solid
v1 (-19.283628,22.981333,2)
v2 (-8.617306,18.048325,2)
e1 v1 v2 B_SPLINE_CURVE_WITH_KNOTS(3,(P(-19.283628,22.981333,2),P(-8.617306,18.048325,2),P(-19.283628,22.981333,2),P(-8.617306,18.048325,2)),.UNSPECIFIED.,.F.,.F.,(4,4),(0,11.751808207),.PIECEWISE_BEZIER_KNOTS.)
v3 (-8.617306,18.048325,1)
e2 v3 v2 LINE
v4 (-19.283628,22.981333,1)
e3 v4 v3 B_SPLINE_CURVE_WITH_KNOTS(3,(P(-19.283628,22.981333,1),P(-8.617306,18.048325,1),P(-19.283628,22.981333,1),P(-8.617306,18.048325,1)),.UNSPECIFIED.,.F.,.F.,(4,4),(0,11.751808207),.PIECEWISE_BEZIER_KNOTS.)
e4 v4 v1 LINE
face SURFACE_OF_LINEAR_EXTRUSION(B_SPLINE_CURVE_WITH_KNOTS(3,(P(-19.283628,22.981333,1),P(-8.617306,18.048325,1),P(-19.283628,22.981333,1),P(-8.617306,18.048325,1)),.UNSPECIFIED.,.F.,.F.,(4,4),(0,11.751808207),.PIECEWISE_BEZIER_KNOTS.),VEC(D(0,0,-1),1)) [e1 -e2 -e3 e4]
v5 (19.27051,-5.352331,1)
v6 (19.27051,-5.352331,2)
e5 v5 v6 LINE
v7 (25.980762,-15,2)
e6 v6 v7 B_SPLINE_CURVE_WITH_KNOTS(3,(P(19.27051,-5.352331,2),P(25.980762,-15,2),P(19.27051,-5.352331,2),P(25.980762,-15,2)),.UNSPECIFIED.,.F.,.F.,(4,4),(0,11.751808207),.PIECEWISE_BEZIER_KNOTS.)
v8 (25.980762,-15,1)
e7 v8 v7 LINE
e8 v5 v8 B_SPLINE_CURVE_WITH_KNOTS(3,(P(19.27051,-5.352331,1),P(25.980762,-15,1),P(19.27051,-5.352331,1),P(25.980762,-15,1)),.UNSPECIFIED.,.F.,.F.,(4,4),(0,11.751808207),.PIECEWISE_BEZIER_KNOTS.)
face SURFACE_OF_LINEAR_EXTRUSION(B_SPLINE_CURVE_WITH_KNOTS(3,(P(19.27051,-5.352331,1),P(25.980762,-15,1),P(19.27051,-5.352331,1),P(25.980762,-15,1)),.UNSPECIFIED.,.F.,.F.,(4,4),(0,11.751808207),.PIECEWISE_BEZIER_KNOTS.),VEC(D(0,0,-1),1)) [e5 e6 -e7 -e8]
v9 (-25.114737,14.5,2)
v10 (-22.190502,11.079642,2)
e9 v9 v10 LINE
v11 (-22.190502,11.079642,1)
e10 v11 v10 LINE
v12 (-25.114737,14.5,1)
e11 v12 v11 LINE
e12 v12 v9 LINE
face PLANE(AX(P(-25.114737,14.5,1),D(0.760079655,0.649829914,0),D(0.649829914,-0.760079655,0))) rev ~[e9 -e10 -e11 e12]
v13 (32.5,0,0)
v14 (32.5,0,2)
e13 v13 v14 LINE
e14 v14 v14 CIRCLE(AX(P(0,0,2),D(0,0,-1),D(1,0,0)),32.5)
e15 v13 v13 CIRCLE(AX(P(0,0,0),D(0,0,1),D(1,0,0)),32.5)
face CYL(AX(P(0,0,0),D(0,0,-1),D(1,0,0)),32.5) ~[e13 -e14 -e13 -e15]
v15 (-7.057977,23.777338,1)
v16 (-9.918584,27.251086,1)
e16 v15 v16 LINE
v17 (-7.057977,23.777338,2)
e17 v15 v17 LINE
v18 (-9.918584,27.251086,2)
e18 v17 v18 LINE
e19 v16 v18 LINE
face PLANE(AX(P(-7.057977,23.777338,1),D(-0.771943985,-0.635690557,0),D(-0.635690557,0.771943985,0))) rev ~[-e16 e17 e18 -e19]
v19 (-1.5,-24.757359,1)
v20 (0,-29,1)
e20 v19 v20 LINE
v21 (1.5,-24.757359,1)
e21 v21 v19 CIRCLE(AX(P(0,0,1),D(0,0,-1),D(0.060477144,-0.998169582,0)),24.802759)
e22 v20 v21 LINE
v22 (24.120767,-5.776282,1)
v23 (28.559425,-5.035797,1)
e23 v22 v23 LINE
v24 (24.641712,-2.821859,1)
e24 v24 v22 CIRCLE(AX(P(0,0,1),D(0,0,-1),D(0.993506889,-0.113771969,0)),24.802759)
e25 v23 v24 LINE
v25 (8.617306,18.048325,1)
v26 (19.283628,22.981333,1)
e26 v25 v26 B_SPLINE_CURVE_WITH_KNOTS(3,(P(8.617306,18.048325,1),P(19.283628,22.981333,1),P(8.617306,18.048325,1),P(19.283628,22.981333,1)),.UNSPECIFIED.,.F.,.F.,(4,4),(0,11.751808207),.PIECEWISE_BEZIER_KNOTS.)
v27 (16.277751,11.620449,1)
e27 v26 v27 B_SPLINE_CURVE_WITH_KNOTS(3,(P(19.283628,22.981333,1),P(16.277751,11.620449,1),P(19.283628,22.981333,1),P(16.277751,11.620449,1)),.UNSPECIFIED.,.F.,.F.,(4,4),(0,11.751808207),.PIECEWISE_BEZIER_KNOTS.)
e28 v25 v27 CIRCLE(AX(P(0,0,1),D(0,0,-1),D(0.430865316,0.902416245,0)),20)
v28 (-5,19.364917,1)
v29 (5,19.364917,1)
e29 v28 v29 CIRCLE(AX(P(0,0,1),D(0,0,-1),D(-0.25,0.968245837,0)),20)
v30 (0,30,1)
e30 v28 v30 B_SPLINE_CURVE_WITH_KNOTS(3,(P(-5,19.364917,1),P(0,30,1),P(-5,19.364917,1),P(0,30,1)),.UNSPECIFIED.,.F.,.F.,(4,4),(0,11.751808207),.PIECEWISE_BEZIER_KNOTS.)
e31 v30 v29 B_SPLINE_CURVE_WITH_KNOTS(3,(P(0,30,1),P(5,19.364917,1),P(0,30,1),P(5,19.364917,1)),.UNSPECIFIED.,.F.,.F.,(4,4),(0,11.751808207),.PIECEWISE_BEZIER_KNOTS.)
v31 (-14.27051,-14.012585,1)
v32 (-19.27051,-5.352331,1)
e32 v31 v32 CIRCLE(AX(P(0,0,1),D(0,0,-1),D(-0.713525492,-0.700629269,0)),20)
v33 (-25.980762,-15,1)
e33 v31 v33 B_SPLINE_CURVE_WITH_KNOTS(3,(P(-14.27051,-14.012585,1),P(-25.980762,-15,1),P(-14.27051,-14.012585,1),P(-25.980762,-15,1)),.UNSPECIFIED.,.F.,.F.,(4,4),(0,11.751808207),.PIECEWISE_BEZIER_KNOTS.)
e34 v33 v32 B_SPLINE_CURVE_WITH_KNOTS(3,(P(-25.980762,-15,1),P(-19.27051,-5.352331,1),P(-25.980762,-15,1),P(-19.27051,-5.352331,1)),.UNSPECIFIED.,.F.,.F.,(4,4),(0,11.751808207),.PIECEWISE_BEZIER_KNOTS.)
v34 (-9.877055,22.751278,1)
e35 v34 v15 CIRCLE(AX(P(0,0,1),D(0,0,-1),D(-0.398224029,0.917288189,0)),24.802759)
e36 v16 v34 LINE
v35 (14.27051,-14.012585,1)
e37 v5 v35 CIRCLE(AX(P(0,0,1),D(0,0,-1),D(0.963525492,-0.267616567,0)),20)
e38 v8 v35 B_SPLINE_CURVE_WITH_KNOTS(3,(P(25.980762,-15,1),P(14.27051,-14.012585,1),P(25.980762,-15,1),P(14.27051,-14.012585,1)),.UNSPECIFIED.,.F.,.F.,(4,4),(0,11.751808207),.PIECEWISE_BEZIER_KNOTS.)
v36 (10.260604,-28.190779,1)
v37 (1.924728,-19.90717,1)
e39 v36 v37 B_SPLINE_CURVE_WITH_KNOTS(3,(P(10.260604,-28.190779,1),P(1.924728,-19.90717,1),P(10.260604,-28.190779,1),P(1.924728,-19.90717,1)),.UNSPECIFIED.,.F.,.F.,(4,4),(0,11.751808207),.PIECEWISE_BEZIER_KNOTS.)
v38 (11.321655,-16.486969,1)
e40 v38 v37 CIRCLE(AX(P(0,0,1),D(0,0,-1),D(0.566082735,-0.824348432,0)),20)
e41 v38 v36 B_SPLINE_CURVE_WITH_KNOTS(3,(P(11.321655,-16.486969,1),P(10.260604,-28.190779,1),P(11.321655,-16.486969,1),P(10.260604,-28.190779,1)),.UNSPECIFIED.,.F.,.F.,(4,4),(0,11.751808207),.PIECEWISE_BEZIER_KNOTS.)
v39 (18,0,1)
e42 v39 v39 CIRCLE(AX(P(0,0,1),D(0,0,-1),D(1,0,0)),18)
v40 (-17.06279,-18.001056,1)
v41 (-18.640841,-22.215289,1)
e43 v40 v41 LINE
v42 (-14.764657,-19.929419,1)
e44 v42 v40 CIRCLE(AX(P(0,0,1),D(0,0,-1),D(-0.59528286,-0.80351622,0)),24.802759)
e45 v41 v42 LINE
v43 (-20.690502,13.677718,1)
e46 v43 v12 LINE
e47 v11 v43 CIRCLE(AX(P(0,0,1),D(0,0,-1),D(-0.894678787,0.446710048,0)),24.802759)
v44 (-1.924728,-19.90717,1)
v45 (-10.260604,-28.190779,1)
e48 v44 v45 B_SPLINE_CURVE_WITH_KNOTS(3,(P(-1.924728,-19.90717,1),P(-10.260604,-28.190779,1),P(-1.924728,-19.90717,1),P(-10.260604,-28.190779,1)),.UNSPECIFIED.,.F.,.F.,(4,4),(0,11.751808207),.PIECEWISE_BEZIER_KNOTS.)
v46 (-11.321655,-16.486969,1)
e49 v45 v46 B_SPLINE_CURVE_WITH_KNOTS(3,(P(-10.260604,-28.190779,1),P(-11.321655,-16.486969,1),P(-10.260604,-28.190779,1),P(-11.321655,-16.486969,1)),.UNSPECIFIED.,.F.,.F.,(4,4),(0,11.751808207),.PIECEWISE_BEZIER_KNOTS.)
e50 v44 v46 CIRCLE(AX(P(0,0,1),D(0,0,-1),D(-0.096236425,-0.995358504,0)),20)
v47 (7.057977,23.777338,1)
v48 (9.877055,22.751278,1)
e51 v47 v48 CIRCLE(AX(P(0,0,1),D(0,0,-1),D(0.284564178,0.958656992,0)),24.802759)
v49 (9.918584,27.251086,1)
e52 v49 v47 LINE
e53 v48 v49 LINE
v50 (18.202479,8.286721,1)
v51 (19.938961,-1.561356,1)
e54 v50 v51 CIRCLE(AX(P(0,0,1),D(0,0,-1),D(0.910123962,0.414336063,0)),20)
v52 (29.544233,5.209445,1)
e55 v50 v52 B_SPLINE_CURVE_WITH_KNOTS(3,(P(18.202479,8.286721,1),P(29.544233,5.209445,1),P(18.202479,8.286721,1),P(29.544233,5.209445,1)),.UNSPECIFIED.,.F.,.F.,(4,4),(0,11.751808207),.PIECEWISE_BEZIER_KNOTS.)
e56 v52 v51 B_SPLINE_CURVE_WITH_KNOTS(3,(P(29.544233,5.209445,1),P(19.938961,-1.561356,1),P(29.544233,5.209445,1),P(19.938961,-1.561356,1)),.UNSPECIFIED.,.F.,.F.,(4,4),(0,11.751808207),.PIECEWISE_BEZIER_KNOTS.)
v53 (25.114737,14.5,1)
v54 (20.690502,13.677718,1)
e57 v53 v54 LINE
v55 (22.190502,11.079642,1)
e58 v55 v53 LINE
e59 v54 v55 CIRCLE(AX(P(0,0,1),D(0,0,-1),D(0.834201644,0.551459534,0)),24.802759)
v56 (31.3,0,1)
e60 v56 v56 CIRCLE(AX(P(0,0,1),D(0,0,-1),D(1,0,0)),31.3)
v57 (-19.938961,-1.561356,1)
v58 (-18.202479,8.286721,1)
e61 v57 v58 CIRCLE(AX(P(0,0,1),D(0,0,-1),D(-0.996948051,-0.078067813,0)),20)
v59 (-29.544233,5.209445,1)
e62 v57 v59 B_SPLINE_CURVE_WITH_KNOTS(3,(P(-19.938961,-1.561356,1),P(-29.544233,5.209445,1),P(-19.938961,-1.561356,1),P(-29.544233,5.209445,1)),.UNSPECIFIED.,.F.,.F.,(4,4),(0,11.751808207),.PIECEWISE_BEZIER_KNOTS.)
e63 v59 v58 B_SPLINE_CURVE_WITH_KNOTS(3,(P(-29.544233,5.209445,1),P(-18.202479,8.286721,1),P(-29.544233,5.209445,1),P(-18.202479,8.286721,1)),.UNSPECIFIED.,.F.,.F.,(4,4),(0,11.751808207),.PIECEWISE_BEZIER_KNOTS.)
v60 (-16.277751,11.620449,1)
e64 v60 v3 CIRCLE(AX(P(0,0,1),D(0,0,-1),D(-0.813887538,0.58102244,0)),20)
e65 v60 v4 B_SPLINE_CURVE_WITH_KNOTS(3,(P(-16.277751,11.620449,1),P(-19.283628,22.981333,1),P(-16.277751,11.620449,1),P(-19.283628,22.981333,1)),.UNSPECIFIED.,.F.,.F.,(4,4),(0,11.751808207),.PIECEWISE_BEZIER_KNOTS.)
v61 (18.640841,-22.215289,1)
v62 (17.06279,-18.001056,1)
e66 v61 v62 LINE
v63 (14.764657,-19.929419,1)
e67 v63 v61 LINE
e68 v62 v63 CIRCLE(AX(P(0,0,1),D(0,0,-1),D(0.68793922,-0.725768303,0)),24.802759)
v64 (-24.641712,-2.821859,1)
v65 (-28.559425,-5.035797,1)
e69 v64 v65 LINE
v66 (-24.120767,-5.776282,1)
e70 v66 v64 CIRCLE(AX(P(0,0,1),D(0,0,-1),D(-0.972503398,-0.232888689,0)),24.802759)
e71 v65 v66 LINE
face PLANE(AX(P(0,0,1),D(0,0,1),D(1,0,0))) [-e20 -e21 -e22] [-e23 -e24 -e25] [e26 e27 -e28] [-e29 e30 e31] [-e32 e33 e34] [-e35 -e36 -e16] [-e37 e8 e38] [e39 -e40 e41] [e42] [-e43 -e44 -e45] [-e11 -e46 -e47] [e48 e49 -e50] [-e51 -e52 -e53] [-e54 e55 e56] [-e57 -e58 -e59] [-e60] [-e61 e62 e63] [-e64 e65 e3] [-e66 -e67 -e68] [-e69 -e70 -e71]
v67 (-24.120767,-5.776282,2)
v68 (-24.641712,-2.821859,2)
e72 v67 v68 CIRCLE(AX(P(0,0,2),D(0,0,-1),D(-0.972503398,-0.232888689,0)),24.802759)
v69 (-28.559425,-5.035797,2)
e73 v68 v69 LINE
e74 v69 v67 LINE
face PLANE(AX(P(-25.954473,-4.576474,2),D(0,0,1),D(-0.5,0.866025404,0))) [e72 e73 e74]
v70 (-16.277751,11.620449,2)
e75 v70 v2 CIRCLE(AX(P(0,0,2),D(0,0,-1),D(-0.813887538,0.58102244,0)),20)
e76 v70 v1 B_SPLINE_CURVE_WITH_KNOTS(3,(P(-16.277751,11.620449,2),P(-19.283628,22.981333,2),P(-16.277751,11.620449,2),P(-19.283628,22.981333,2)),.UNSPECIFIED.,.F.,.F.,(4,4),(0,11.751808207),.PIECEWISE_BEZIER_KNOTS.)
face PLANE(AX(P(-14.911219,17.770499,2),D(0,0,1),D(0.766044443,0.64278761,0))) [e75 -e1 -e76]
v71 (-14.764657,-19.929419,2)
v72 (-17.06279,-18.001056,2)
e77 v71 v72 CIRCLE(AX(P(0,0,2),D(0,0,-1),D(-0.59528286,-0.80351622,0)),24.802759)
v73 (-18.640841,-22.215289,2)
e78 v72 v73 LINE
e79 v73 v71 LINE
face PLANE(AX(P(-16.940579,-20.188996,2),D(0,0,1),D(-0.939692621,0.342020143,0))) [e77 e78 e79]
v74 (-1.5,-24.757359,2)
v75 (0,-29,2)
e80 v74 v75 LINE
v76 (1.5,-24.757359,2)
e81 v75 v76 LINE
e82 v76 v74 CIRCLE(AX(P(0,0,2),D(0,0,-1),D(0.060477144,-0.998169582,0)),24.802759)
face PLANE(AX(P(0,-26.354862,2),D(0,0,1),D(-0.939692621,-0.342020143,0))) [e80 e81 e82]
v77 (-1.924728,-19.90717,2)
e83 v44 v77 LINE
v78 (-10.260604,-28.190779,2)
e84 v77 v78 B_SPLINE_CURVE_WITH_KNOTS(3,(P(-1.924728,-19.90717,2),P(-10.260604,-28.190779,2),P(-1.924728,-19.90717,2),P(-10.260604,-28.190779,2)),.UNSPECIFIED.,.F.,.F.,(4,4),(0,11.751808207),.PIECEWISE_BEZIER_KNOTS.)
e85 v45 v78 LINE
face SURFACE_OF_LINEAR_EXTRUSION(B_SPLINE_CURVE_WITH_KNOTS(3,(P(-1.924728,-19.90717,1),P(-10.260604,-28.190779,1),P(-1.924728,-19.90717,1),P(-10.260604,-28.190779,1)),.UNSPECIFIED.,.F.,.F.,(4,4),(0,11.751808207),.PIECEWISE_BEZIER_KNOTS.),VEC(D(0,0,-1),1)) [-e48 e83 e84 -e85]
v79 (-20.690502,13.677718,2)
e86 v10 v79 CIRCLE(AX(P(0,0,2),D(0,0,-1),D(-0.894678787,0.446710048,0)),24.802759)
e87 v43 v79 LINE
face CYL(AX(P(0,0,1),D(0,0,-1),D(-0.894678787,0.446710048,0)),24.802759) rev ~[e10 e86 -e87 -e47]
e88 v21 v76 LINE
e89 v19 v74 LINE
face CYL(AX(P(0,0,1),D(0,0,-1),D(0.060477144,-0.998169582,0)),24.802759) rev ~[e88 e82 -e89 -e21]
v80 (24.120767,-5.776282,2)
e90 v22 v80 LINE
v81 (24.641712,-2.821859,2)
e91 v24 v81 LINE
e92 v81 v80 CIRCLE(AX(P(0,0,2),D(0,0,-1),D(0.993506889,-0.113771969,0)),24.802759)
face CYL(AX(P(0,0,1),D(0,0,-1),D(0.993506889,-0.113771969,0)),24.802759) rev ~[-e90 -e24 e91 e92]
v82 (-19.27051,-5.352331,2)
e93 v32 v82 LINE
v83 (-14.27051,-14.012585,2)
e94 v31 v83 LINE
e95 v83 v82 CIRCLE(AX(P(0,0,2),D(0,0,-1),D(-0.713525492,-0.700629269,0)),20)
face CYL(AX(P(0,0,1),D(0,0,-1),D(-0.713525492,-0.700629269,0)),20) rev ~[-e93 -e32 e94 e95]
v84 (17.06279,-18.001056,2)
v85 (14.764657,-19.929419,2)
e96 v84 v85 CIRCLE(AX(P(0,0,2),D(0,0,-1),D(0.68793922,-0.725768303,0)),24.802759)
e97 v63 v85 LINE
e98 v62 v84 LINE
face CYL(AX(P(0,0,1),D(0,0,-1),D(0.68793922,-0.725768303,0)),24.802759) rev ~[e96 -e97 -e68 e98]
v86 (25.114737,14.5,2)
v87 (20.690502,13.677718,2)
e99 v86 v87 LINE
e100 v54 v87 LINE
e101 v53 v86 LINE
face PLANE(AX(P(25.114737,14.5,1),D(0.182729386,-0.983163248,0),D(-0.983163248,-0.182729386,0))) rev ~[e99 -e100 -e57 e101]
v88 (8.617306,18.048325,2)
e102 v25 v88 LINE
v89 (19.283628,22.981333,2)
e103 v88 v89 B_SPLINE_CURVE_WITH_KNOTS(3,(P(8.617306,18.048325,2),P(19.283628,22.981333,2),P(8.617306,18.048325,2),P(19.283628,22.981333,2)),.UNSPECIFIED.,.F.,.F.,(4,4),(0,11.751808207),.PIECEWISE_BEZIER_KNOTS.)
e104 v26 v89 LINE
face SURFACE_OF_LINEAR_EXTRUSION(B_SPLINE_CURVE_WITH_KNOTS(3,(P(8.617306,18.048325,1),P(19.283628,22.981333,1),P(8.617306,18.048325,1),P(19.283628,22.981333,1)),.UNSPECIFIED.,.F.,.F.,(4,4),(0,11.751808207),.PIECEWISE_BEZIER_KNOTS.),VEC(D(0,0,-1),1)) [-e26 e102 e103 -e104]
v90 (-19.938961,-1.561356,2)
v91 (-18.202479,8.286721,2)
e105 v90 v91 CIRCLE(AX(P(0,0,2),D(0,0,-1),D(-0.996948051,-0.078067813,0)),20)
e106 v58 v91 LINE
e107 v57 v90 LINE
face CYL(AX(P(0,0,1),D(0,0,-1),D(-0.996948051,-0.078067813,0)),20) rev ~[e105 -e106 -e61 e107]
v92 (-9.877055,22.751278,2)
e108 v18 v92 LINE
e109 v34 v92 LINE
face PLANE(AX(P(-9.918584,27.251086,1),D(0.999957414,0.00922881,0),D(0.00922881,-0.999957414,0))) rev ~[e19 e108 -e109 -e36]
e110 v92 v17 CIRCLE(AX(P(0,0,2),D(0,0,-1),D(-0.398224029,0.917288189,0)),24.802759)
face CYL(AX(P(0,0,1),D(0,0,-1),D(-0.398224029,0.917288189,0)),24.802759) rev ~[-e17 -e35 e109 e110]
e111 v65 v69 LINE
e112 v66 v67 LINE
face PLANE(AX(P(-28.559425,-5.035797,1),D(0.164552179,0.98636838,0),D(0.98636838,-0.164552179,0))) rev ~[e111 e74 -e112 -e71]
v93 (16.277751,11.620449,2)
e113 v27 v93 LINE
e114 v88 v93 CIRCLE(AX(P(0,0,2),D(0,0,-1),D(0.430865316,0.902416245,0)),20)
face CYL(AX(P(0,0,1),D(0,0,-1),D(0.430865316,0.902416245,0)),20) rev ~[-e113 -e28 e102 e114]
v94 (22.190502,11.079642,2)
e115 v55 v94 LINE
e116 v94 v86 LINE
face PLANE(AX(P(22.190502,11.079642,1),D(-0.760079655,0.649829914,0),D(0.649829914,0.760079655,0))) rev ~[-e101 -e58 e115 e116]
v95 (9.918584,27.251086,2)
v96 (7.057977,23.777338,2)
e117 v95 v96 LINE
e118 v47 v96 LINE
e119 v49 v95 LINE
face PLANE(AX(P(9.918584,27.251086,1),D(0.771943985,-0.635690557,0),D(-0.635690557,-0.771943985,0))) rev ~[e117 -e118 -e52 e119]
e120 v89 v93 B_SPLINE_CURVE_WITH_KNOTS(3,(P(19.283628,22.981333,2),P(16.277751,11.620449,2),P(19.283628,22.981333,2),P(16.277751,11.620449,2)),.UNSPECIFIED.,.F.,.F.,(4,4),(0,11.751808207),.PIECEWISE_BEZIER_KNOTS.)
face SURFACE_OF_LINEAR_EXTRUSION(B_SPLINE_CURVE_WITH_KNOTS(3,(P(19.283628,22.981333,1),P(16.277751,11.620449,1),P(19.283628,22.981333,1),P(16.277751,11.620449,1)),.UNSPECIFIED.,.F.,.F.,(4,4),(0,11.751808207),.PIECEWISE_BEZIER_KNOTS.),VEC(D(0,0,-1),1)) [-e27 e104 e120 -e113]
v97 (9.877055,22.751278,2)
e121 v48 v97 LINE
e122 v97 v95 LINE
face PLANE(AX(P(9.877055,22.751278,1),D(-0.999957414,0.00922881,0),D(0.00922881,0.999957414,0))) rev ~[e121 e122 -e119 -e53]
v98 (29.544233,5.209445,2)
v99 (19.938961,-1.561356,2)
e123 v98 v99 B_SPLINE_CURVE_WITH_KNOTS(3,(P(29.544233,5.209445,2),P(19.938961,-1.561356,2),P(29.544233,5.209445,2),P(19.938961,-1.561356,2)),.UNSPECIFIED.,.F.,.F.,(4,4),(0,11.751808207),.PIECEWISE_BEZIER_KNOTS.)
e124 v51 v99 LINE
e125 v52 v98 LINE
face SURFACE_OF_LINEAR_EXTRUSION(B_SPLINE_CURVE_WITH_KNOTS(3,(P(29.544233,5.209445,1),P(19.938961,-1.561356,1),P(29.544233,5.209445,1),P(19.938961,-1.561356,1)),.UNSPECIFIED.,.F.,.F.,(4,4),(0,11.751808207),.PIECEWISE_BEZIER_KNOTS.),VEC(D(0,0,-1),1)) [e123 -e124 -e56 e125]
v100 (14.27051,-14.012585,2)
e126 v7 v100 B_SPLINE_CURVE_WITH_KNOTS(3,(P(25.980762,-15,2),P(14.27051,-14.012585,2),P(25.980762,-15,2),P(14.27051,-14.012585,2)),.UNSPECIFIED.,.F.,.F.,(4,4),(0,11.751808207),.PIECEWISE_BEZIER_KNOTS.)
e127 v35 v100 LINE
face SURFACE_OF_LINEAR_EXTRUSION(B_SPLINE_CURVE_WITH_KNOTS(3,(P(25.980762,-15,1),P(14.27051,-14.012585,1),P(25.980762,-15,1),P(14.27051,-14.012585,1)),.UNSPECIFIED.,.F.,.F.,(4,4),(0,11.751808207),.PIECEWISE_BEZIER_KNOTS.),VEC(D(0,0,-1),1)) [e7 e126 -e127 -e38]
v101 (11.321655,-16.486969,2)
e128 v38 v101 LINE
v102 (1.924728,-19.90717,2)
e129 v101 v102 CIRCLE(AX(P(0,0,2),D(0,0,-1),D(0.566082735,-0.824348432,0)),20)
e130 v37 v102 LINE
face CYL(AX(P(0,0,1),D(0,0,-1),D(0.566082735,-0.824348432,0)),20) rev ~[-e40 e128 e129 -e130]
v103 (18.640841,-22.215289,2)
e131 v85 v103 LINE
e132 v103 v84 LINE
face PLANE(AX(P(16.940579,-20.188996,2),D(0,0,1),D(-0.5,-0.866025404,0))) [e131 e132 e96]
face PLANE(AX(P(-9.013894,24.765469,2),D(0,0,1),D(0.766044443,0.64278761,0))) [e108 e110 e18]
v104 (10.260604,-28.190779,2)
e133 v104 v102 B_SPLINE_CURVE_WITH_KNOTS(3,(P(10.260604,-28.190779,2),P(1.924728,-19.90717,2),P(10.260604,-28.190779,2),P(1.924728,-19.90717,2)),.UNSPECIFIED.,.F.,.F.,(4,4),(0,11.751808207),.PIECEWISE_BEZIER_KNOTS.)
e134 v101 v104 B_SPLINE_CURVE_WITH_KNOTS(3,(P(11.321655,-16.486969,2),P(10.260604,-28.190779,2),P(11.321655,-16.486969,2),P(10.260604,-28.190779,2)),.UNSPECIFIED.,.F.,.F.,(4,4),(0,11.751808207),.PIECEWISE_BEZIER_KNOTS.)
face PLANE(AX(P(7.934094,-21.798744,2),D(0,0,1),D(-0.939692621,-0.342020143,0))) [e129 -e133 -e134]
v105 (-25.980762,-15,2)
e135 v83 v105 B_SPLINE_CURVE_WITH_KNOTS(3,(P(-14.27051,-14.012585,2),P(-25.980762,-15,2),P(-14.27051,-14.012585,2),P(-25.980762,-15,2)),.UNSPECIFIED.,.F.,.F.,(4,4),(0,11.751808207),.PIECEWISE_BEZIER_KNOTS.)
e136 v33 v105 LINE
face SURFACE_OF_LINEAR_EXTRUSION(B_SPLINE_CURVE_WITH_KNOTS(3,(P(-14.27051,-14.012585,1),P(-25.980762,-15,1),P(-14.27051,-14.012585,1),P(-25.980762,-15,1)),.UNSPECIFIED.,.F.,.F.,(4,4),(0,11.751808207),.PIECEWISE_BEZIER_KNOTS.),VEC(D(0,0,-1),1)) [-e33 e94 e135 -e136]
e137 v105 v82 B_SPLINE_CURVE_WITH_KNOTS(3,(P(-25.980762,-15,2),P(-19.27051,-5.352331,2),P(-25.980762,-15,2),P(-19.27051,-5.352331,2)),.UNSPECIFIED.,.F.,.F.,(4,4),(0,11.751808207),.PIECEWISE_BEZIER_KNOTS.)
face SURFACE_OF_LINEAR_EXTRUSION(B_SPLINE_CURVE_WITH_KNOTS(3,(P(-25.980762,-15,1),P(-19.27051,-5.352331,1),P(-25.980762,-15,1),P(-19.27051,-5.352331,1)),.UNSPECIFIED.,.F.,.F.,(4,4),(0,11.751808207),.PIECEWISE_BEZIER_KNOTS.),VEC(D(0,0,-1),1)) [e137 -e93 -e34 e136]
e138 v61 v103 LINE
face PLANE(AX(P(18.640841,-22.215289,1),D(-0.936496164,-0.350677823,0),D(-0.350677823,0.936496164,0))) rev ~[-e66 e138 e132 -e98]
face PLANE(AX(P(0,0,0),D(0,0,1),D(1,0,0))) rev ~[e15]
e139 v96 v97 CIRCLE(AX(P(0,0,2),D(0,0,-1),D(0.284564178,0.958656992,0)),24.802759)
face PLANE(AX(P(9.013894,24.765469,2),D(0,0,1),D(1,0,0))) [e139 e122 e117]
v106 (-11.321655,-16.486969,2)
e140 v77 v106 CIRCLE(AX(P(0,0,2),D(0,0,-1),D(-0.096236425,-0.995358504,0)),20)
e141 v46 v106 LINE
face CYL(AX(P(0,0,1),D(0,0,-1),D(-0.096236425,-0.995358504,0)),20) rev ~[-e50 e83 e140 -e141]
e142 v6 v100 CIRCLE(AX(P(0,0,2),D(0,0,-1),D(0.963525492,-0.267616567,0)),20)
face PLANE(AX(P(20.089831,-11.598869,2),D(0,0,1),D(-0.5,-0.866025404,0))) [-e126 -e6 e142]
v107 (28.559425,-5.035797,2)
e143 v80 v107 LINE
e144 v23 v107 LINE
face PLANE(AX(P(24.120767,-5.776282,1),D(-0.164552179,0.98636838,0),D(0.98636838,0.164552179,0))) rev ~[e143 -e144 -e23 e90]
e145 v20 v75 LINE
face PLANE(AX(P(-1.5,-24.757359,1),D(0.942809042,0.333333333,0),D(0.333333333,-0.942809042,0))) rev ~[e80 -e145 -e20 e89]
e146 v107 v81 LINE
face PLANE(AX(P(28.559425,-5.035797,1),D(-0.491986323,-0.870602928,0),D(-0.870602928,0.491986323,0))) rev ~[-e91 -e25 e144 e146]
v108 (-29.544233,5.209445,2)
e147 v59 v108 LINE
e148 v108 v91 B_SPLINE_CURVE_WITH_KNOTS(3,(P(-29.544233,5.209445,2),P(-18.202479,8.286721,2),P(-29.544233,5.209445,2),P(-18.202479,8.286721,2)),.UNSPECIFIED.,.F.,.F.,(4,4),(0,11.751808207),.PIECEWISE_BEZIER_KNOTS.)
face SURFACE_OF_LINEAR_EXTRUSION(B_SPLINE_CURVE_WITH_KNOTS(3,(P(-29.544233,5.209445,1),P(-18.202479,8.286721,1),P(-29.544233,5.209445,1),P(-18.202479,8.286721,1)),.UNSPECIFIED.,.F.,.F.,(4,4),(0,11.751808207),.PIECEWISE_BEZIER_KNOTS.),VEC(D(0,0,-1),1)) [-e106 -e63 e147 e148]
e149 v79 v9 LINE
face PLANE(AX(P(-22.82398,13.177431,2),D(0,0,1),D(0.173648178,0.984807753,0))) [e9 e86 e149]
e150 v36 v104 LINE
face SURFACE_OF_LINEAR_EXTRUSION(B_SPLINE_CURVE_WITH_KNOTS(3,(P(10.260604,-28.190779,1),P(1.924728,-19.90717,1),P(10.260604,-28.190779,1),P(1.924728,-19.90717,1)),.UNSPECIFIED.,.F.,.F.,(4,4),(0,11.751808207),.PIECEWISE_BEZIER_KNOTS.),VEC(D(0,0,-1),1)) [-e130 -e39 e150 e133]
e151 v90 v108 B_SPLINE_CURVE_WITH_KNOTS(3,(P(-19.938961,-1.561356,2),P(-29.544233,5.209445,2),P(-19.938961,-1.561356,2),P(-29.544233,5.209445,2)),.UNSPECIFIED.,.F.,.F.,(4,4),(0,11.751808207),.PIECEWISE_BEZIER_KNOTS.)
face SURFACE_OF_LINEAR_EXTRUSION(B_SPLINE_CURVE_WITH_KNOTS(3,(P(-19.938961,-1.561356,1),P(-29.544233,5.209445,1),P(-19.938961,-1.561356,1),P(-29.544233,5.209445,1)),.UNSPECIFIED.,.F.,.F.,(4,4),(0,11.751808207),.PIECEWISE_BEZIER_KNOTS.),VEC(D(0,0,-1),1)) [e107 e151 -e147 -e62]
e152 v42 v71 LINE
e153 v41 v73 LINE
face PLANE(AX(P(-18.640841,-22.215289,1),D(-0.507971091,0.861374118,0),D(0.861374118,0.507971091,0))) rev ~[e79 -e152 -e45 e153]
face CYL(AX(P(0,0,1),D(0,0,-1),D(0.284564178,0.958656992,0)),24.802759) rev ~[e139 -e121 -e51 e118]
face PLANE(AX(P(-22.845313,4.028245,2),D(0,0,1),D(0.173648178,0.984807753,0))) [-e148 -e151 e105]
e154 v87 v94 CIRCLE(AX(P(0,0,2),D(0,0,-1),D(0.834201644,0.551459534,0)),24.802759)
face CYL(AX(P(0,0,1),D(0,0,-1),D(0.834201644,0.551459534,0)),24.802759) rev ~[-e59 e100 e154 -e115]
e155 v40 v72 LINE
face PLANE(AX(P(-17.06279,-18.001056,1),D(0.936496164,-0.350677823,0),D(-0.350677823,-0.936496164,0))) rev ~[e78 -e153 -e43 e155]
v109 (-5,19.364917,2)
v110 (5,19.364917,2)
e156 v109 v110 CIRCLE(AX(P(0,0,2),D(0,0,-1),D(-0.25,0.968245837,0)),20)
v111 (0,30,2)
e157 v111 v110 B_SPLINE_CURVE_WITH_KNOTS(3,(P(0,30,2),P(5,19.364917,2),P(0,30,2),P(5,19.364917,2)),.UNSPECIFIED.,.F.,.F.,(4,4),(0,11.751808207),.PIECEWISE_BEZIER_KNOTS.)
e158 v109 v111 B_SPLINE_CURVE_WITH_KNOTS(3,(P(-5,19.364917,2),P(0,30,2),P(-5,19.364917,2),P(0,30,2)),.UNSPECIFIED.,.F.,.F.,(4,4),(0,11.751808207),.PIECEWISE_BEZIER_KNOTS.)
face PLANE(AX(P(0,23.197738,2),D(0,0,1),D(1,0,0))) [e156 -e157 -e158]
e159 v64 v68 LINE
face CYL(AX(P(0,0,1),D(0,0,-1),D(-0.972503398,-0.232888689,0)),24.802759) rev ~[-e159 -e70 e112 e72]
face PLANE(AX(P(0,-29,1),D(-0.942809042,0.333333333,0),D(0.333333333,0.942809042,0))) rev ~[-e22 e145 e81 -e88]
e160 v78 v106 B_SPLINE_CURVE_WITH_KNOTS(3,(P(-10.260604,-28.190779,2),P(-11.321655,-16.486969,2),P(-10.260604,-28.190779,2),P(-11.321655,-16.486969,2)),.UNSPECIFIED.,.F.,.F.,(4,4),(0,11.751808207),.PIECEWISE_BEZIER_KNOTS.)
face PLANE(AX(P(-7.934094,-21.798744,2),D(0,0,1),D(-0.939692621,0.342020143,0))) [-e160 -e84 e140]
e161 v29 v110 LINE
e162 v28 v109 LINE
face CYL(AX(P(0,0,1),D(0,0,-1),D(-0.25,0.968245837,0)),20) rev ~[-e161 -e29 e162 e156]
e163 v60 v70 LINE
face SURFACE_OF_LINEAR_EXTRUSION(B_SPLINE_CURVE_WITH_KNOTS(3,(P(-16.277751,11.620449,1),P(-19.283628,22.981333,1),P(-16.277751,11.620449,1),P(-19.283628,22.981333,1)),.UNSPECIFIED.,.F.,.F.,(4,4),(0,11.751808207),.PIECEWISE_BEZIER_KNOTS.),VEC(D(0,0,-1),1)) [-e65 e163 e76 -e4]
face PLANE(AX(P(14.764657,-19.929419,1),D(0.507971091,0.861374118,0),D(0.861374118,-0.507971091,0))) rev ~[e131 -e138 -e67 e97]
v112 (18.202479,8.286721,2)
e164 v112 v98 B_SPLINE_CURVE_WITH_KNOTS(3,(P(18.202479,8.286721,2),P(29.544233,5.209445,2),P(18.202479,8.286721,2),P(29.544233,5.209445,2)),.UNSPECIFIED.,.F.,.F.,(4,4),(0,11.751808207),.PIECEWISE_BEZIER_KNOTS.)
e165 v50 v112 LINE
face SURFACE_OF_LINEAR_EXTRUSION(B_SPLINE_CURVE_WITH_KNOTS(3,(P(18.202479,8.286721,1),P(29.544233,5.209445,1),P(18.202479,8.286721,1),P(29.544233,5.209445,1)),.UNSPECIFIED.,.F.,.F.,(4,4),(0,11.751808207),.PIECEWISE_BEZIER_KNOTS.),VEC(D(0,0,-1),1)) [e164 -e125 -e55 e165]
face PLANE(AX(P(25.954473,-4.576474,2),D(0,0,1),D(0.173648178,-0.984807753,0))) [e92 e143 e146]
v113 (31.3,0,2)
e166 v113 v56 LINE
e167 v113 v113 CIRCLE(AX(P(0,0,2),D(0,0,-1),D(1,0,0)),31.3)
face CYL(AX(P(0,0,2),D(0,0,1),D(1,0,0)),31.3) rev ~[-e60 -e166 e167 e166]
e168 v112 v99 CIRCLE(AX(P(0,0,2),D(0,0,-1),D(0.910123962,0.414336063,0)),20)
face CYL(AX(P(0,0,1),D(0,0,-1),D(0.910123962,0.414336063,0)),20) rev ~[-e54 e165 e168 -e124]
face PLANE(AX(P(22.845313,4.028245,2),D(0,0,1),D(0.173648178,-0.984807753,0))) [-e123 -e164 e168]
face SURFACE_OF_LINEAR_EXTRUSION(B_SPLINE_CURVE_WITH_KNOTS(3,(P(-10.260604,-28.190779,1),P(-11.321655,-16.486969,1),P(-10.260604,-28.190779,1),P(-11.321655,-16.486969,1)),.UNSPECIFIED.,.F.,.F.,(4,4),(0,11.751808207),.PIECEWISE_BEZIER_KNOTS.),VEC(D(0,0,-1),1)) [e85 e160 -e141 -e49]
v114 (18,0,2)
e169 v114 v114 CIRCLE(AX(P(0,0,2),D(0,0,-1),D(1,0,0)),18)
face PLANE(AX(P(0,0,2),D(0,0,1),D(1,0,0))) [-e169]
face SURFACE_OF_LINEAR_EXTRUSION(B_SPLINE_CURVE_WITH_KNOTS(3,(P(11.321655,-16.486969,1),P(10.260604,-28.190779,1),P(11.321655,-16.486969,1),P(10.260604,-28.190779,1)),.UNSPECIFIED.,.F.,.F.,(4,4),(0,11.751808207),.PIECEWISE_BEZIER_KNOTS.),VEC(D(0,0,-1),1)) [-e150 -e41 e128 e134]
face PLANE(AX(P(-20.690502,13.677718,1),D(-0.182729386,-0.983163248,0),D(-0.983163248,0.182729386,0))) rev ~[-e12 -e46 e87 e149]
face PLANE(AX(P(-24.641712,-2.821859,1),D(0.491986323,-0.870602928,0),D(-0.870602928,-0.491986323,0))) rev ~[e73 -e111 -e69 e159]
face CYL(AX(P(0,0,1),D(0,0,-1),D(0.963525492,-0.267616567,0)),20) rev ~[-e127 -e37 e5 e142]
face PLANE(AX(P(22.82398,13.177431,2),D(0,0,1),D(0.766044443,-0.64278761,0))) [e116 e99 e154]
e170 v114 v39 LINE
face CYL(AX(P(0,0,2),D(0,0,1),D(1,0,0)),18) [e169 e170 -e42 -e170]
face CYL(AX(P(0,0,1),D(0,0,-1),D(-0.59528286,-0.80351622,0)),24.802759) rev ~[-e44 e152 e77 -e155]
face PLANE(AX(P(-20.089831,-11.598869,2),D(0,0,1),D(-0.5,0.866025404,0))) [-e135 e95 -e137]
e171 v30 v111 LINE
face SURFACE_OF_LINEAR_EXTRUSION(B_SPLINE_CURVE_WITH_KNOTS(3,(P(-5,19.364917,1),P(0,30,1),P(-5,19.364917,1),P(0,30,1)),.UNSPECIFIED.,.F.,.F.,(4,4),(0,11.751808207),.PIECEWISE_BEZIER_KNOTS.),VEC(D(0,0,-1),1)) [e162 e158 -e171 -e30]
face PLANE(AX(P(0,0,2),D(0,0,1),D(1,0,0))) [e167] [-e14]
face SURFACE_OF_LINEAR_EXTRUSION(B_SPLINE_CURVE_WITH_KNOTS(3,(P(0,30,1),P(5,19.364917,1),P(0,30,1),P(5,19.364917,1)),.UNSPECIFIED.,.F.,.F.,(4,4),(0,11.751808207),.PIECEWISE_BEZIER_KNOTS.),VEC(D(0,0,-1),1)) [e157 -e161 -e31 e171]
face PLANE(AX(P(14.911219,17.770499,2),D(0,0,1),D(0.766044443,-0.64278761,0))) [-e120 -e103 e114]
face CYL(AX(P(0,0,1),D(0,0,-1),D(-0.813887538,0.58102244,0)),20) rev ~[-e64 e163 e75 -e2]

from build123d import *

# Parameters (mm, degrees)
F0_R     = 32.5
F1_DEPTH = 2
F2_R     = 31.3
F2_R_2   = 18
F3_DEPTH = 1
F5_DEPTH = 1
F6_COUNT = 9


with BuildPart() as f1:
    # F0 (on Top) → F1 (new body)
    with BuildSketch(Plane.XY):
        Circle(F0_R)
    extrude(amount=F1_DEPTH)

    # F2 (on face) → F3 (cut)
    with BuildSketch(Plane.XY.offset(2)):
        Circle(F2_R)
        Circle(F2_R_2, mode=Mode.SUBTRACT)
    extrude(amount=-F3_DEPTH, mode=Mode.SUBTRACT)

    # F4 (on face) → F5 (join, through all)
    with BuildSketch(Plane.XY.offset(1)):
        with BuildLine():
            ThreePointArc((-5, 19.364916731), (0, 20), (5, 19.364916731))
            add(Edge.make_bspline(
                [(0, 30), (5, 19.364916731), (0, 30), (5, 19.364916731)],
                knots=[0, 0, 0, 0, 11.7518082072, 11.7518082072, 11.7518082072, 11.7518082072], degree=3))
            add(Edge.make_bspline(
                [(-5, 19.364916731), (0, 30), (-5, 19.364916731), (0, 30)],
                knots=[0, 0, 0, 0, 11.7518082072, 11.7518082072, 11.7518082072, 11.7518082072], degree=3))
        make_face()
        with BuildLine():
            Line((9.8770545117, 22.7512776415), (9.9185841564, 27.2510860028))
            Line((9.9185841564, 27.2510860028), (7.0579766494, 23.7773380714))
            ThreePointArc((7.0579766494, 23.7773380714), (8.4830430925, 23.3069693448), (9.8770545117, 22.7512776415))
        make_face()
    extrude(amount=F5_DEPTH)

    # F6: F1 ×9 about axis
    f6_axis = Axis((0, 0, 0), (0, 0, -1))


with BuildPart() as f1_1:
    add(f1.part)
    for i in range(1, F6_COUNT):
        add(f1.part.rotate(f6_axis, i * 360 / F6_COUNT))


solid = f1_1.part
